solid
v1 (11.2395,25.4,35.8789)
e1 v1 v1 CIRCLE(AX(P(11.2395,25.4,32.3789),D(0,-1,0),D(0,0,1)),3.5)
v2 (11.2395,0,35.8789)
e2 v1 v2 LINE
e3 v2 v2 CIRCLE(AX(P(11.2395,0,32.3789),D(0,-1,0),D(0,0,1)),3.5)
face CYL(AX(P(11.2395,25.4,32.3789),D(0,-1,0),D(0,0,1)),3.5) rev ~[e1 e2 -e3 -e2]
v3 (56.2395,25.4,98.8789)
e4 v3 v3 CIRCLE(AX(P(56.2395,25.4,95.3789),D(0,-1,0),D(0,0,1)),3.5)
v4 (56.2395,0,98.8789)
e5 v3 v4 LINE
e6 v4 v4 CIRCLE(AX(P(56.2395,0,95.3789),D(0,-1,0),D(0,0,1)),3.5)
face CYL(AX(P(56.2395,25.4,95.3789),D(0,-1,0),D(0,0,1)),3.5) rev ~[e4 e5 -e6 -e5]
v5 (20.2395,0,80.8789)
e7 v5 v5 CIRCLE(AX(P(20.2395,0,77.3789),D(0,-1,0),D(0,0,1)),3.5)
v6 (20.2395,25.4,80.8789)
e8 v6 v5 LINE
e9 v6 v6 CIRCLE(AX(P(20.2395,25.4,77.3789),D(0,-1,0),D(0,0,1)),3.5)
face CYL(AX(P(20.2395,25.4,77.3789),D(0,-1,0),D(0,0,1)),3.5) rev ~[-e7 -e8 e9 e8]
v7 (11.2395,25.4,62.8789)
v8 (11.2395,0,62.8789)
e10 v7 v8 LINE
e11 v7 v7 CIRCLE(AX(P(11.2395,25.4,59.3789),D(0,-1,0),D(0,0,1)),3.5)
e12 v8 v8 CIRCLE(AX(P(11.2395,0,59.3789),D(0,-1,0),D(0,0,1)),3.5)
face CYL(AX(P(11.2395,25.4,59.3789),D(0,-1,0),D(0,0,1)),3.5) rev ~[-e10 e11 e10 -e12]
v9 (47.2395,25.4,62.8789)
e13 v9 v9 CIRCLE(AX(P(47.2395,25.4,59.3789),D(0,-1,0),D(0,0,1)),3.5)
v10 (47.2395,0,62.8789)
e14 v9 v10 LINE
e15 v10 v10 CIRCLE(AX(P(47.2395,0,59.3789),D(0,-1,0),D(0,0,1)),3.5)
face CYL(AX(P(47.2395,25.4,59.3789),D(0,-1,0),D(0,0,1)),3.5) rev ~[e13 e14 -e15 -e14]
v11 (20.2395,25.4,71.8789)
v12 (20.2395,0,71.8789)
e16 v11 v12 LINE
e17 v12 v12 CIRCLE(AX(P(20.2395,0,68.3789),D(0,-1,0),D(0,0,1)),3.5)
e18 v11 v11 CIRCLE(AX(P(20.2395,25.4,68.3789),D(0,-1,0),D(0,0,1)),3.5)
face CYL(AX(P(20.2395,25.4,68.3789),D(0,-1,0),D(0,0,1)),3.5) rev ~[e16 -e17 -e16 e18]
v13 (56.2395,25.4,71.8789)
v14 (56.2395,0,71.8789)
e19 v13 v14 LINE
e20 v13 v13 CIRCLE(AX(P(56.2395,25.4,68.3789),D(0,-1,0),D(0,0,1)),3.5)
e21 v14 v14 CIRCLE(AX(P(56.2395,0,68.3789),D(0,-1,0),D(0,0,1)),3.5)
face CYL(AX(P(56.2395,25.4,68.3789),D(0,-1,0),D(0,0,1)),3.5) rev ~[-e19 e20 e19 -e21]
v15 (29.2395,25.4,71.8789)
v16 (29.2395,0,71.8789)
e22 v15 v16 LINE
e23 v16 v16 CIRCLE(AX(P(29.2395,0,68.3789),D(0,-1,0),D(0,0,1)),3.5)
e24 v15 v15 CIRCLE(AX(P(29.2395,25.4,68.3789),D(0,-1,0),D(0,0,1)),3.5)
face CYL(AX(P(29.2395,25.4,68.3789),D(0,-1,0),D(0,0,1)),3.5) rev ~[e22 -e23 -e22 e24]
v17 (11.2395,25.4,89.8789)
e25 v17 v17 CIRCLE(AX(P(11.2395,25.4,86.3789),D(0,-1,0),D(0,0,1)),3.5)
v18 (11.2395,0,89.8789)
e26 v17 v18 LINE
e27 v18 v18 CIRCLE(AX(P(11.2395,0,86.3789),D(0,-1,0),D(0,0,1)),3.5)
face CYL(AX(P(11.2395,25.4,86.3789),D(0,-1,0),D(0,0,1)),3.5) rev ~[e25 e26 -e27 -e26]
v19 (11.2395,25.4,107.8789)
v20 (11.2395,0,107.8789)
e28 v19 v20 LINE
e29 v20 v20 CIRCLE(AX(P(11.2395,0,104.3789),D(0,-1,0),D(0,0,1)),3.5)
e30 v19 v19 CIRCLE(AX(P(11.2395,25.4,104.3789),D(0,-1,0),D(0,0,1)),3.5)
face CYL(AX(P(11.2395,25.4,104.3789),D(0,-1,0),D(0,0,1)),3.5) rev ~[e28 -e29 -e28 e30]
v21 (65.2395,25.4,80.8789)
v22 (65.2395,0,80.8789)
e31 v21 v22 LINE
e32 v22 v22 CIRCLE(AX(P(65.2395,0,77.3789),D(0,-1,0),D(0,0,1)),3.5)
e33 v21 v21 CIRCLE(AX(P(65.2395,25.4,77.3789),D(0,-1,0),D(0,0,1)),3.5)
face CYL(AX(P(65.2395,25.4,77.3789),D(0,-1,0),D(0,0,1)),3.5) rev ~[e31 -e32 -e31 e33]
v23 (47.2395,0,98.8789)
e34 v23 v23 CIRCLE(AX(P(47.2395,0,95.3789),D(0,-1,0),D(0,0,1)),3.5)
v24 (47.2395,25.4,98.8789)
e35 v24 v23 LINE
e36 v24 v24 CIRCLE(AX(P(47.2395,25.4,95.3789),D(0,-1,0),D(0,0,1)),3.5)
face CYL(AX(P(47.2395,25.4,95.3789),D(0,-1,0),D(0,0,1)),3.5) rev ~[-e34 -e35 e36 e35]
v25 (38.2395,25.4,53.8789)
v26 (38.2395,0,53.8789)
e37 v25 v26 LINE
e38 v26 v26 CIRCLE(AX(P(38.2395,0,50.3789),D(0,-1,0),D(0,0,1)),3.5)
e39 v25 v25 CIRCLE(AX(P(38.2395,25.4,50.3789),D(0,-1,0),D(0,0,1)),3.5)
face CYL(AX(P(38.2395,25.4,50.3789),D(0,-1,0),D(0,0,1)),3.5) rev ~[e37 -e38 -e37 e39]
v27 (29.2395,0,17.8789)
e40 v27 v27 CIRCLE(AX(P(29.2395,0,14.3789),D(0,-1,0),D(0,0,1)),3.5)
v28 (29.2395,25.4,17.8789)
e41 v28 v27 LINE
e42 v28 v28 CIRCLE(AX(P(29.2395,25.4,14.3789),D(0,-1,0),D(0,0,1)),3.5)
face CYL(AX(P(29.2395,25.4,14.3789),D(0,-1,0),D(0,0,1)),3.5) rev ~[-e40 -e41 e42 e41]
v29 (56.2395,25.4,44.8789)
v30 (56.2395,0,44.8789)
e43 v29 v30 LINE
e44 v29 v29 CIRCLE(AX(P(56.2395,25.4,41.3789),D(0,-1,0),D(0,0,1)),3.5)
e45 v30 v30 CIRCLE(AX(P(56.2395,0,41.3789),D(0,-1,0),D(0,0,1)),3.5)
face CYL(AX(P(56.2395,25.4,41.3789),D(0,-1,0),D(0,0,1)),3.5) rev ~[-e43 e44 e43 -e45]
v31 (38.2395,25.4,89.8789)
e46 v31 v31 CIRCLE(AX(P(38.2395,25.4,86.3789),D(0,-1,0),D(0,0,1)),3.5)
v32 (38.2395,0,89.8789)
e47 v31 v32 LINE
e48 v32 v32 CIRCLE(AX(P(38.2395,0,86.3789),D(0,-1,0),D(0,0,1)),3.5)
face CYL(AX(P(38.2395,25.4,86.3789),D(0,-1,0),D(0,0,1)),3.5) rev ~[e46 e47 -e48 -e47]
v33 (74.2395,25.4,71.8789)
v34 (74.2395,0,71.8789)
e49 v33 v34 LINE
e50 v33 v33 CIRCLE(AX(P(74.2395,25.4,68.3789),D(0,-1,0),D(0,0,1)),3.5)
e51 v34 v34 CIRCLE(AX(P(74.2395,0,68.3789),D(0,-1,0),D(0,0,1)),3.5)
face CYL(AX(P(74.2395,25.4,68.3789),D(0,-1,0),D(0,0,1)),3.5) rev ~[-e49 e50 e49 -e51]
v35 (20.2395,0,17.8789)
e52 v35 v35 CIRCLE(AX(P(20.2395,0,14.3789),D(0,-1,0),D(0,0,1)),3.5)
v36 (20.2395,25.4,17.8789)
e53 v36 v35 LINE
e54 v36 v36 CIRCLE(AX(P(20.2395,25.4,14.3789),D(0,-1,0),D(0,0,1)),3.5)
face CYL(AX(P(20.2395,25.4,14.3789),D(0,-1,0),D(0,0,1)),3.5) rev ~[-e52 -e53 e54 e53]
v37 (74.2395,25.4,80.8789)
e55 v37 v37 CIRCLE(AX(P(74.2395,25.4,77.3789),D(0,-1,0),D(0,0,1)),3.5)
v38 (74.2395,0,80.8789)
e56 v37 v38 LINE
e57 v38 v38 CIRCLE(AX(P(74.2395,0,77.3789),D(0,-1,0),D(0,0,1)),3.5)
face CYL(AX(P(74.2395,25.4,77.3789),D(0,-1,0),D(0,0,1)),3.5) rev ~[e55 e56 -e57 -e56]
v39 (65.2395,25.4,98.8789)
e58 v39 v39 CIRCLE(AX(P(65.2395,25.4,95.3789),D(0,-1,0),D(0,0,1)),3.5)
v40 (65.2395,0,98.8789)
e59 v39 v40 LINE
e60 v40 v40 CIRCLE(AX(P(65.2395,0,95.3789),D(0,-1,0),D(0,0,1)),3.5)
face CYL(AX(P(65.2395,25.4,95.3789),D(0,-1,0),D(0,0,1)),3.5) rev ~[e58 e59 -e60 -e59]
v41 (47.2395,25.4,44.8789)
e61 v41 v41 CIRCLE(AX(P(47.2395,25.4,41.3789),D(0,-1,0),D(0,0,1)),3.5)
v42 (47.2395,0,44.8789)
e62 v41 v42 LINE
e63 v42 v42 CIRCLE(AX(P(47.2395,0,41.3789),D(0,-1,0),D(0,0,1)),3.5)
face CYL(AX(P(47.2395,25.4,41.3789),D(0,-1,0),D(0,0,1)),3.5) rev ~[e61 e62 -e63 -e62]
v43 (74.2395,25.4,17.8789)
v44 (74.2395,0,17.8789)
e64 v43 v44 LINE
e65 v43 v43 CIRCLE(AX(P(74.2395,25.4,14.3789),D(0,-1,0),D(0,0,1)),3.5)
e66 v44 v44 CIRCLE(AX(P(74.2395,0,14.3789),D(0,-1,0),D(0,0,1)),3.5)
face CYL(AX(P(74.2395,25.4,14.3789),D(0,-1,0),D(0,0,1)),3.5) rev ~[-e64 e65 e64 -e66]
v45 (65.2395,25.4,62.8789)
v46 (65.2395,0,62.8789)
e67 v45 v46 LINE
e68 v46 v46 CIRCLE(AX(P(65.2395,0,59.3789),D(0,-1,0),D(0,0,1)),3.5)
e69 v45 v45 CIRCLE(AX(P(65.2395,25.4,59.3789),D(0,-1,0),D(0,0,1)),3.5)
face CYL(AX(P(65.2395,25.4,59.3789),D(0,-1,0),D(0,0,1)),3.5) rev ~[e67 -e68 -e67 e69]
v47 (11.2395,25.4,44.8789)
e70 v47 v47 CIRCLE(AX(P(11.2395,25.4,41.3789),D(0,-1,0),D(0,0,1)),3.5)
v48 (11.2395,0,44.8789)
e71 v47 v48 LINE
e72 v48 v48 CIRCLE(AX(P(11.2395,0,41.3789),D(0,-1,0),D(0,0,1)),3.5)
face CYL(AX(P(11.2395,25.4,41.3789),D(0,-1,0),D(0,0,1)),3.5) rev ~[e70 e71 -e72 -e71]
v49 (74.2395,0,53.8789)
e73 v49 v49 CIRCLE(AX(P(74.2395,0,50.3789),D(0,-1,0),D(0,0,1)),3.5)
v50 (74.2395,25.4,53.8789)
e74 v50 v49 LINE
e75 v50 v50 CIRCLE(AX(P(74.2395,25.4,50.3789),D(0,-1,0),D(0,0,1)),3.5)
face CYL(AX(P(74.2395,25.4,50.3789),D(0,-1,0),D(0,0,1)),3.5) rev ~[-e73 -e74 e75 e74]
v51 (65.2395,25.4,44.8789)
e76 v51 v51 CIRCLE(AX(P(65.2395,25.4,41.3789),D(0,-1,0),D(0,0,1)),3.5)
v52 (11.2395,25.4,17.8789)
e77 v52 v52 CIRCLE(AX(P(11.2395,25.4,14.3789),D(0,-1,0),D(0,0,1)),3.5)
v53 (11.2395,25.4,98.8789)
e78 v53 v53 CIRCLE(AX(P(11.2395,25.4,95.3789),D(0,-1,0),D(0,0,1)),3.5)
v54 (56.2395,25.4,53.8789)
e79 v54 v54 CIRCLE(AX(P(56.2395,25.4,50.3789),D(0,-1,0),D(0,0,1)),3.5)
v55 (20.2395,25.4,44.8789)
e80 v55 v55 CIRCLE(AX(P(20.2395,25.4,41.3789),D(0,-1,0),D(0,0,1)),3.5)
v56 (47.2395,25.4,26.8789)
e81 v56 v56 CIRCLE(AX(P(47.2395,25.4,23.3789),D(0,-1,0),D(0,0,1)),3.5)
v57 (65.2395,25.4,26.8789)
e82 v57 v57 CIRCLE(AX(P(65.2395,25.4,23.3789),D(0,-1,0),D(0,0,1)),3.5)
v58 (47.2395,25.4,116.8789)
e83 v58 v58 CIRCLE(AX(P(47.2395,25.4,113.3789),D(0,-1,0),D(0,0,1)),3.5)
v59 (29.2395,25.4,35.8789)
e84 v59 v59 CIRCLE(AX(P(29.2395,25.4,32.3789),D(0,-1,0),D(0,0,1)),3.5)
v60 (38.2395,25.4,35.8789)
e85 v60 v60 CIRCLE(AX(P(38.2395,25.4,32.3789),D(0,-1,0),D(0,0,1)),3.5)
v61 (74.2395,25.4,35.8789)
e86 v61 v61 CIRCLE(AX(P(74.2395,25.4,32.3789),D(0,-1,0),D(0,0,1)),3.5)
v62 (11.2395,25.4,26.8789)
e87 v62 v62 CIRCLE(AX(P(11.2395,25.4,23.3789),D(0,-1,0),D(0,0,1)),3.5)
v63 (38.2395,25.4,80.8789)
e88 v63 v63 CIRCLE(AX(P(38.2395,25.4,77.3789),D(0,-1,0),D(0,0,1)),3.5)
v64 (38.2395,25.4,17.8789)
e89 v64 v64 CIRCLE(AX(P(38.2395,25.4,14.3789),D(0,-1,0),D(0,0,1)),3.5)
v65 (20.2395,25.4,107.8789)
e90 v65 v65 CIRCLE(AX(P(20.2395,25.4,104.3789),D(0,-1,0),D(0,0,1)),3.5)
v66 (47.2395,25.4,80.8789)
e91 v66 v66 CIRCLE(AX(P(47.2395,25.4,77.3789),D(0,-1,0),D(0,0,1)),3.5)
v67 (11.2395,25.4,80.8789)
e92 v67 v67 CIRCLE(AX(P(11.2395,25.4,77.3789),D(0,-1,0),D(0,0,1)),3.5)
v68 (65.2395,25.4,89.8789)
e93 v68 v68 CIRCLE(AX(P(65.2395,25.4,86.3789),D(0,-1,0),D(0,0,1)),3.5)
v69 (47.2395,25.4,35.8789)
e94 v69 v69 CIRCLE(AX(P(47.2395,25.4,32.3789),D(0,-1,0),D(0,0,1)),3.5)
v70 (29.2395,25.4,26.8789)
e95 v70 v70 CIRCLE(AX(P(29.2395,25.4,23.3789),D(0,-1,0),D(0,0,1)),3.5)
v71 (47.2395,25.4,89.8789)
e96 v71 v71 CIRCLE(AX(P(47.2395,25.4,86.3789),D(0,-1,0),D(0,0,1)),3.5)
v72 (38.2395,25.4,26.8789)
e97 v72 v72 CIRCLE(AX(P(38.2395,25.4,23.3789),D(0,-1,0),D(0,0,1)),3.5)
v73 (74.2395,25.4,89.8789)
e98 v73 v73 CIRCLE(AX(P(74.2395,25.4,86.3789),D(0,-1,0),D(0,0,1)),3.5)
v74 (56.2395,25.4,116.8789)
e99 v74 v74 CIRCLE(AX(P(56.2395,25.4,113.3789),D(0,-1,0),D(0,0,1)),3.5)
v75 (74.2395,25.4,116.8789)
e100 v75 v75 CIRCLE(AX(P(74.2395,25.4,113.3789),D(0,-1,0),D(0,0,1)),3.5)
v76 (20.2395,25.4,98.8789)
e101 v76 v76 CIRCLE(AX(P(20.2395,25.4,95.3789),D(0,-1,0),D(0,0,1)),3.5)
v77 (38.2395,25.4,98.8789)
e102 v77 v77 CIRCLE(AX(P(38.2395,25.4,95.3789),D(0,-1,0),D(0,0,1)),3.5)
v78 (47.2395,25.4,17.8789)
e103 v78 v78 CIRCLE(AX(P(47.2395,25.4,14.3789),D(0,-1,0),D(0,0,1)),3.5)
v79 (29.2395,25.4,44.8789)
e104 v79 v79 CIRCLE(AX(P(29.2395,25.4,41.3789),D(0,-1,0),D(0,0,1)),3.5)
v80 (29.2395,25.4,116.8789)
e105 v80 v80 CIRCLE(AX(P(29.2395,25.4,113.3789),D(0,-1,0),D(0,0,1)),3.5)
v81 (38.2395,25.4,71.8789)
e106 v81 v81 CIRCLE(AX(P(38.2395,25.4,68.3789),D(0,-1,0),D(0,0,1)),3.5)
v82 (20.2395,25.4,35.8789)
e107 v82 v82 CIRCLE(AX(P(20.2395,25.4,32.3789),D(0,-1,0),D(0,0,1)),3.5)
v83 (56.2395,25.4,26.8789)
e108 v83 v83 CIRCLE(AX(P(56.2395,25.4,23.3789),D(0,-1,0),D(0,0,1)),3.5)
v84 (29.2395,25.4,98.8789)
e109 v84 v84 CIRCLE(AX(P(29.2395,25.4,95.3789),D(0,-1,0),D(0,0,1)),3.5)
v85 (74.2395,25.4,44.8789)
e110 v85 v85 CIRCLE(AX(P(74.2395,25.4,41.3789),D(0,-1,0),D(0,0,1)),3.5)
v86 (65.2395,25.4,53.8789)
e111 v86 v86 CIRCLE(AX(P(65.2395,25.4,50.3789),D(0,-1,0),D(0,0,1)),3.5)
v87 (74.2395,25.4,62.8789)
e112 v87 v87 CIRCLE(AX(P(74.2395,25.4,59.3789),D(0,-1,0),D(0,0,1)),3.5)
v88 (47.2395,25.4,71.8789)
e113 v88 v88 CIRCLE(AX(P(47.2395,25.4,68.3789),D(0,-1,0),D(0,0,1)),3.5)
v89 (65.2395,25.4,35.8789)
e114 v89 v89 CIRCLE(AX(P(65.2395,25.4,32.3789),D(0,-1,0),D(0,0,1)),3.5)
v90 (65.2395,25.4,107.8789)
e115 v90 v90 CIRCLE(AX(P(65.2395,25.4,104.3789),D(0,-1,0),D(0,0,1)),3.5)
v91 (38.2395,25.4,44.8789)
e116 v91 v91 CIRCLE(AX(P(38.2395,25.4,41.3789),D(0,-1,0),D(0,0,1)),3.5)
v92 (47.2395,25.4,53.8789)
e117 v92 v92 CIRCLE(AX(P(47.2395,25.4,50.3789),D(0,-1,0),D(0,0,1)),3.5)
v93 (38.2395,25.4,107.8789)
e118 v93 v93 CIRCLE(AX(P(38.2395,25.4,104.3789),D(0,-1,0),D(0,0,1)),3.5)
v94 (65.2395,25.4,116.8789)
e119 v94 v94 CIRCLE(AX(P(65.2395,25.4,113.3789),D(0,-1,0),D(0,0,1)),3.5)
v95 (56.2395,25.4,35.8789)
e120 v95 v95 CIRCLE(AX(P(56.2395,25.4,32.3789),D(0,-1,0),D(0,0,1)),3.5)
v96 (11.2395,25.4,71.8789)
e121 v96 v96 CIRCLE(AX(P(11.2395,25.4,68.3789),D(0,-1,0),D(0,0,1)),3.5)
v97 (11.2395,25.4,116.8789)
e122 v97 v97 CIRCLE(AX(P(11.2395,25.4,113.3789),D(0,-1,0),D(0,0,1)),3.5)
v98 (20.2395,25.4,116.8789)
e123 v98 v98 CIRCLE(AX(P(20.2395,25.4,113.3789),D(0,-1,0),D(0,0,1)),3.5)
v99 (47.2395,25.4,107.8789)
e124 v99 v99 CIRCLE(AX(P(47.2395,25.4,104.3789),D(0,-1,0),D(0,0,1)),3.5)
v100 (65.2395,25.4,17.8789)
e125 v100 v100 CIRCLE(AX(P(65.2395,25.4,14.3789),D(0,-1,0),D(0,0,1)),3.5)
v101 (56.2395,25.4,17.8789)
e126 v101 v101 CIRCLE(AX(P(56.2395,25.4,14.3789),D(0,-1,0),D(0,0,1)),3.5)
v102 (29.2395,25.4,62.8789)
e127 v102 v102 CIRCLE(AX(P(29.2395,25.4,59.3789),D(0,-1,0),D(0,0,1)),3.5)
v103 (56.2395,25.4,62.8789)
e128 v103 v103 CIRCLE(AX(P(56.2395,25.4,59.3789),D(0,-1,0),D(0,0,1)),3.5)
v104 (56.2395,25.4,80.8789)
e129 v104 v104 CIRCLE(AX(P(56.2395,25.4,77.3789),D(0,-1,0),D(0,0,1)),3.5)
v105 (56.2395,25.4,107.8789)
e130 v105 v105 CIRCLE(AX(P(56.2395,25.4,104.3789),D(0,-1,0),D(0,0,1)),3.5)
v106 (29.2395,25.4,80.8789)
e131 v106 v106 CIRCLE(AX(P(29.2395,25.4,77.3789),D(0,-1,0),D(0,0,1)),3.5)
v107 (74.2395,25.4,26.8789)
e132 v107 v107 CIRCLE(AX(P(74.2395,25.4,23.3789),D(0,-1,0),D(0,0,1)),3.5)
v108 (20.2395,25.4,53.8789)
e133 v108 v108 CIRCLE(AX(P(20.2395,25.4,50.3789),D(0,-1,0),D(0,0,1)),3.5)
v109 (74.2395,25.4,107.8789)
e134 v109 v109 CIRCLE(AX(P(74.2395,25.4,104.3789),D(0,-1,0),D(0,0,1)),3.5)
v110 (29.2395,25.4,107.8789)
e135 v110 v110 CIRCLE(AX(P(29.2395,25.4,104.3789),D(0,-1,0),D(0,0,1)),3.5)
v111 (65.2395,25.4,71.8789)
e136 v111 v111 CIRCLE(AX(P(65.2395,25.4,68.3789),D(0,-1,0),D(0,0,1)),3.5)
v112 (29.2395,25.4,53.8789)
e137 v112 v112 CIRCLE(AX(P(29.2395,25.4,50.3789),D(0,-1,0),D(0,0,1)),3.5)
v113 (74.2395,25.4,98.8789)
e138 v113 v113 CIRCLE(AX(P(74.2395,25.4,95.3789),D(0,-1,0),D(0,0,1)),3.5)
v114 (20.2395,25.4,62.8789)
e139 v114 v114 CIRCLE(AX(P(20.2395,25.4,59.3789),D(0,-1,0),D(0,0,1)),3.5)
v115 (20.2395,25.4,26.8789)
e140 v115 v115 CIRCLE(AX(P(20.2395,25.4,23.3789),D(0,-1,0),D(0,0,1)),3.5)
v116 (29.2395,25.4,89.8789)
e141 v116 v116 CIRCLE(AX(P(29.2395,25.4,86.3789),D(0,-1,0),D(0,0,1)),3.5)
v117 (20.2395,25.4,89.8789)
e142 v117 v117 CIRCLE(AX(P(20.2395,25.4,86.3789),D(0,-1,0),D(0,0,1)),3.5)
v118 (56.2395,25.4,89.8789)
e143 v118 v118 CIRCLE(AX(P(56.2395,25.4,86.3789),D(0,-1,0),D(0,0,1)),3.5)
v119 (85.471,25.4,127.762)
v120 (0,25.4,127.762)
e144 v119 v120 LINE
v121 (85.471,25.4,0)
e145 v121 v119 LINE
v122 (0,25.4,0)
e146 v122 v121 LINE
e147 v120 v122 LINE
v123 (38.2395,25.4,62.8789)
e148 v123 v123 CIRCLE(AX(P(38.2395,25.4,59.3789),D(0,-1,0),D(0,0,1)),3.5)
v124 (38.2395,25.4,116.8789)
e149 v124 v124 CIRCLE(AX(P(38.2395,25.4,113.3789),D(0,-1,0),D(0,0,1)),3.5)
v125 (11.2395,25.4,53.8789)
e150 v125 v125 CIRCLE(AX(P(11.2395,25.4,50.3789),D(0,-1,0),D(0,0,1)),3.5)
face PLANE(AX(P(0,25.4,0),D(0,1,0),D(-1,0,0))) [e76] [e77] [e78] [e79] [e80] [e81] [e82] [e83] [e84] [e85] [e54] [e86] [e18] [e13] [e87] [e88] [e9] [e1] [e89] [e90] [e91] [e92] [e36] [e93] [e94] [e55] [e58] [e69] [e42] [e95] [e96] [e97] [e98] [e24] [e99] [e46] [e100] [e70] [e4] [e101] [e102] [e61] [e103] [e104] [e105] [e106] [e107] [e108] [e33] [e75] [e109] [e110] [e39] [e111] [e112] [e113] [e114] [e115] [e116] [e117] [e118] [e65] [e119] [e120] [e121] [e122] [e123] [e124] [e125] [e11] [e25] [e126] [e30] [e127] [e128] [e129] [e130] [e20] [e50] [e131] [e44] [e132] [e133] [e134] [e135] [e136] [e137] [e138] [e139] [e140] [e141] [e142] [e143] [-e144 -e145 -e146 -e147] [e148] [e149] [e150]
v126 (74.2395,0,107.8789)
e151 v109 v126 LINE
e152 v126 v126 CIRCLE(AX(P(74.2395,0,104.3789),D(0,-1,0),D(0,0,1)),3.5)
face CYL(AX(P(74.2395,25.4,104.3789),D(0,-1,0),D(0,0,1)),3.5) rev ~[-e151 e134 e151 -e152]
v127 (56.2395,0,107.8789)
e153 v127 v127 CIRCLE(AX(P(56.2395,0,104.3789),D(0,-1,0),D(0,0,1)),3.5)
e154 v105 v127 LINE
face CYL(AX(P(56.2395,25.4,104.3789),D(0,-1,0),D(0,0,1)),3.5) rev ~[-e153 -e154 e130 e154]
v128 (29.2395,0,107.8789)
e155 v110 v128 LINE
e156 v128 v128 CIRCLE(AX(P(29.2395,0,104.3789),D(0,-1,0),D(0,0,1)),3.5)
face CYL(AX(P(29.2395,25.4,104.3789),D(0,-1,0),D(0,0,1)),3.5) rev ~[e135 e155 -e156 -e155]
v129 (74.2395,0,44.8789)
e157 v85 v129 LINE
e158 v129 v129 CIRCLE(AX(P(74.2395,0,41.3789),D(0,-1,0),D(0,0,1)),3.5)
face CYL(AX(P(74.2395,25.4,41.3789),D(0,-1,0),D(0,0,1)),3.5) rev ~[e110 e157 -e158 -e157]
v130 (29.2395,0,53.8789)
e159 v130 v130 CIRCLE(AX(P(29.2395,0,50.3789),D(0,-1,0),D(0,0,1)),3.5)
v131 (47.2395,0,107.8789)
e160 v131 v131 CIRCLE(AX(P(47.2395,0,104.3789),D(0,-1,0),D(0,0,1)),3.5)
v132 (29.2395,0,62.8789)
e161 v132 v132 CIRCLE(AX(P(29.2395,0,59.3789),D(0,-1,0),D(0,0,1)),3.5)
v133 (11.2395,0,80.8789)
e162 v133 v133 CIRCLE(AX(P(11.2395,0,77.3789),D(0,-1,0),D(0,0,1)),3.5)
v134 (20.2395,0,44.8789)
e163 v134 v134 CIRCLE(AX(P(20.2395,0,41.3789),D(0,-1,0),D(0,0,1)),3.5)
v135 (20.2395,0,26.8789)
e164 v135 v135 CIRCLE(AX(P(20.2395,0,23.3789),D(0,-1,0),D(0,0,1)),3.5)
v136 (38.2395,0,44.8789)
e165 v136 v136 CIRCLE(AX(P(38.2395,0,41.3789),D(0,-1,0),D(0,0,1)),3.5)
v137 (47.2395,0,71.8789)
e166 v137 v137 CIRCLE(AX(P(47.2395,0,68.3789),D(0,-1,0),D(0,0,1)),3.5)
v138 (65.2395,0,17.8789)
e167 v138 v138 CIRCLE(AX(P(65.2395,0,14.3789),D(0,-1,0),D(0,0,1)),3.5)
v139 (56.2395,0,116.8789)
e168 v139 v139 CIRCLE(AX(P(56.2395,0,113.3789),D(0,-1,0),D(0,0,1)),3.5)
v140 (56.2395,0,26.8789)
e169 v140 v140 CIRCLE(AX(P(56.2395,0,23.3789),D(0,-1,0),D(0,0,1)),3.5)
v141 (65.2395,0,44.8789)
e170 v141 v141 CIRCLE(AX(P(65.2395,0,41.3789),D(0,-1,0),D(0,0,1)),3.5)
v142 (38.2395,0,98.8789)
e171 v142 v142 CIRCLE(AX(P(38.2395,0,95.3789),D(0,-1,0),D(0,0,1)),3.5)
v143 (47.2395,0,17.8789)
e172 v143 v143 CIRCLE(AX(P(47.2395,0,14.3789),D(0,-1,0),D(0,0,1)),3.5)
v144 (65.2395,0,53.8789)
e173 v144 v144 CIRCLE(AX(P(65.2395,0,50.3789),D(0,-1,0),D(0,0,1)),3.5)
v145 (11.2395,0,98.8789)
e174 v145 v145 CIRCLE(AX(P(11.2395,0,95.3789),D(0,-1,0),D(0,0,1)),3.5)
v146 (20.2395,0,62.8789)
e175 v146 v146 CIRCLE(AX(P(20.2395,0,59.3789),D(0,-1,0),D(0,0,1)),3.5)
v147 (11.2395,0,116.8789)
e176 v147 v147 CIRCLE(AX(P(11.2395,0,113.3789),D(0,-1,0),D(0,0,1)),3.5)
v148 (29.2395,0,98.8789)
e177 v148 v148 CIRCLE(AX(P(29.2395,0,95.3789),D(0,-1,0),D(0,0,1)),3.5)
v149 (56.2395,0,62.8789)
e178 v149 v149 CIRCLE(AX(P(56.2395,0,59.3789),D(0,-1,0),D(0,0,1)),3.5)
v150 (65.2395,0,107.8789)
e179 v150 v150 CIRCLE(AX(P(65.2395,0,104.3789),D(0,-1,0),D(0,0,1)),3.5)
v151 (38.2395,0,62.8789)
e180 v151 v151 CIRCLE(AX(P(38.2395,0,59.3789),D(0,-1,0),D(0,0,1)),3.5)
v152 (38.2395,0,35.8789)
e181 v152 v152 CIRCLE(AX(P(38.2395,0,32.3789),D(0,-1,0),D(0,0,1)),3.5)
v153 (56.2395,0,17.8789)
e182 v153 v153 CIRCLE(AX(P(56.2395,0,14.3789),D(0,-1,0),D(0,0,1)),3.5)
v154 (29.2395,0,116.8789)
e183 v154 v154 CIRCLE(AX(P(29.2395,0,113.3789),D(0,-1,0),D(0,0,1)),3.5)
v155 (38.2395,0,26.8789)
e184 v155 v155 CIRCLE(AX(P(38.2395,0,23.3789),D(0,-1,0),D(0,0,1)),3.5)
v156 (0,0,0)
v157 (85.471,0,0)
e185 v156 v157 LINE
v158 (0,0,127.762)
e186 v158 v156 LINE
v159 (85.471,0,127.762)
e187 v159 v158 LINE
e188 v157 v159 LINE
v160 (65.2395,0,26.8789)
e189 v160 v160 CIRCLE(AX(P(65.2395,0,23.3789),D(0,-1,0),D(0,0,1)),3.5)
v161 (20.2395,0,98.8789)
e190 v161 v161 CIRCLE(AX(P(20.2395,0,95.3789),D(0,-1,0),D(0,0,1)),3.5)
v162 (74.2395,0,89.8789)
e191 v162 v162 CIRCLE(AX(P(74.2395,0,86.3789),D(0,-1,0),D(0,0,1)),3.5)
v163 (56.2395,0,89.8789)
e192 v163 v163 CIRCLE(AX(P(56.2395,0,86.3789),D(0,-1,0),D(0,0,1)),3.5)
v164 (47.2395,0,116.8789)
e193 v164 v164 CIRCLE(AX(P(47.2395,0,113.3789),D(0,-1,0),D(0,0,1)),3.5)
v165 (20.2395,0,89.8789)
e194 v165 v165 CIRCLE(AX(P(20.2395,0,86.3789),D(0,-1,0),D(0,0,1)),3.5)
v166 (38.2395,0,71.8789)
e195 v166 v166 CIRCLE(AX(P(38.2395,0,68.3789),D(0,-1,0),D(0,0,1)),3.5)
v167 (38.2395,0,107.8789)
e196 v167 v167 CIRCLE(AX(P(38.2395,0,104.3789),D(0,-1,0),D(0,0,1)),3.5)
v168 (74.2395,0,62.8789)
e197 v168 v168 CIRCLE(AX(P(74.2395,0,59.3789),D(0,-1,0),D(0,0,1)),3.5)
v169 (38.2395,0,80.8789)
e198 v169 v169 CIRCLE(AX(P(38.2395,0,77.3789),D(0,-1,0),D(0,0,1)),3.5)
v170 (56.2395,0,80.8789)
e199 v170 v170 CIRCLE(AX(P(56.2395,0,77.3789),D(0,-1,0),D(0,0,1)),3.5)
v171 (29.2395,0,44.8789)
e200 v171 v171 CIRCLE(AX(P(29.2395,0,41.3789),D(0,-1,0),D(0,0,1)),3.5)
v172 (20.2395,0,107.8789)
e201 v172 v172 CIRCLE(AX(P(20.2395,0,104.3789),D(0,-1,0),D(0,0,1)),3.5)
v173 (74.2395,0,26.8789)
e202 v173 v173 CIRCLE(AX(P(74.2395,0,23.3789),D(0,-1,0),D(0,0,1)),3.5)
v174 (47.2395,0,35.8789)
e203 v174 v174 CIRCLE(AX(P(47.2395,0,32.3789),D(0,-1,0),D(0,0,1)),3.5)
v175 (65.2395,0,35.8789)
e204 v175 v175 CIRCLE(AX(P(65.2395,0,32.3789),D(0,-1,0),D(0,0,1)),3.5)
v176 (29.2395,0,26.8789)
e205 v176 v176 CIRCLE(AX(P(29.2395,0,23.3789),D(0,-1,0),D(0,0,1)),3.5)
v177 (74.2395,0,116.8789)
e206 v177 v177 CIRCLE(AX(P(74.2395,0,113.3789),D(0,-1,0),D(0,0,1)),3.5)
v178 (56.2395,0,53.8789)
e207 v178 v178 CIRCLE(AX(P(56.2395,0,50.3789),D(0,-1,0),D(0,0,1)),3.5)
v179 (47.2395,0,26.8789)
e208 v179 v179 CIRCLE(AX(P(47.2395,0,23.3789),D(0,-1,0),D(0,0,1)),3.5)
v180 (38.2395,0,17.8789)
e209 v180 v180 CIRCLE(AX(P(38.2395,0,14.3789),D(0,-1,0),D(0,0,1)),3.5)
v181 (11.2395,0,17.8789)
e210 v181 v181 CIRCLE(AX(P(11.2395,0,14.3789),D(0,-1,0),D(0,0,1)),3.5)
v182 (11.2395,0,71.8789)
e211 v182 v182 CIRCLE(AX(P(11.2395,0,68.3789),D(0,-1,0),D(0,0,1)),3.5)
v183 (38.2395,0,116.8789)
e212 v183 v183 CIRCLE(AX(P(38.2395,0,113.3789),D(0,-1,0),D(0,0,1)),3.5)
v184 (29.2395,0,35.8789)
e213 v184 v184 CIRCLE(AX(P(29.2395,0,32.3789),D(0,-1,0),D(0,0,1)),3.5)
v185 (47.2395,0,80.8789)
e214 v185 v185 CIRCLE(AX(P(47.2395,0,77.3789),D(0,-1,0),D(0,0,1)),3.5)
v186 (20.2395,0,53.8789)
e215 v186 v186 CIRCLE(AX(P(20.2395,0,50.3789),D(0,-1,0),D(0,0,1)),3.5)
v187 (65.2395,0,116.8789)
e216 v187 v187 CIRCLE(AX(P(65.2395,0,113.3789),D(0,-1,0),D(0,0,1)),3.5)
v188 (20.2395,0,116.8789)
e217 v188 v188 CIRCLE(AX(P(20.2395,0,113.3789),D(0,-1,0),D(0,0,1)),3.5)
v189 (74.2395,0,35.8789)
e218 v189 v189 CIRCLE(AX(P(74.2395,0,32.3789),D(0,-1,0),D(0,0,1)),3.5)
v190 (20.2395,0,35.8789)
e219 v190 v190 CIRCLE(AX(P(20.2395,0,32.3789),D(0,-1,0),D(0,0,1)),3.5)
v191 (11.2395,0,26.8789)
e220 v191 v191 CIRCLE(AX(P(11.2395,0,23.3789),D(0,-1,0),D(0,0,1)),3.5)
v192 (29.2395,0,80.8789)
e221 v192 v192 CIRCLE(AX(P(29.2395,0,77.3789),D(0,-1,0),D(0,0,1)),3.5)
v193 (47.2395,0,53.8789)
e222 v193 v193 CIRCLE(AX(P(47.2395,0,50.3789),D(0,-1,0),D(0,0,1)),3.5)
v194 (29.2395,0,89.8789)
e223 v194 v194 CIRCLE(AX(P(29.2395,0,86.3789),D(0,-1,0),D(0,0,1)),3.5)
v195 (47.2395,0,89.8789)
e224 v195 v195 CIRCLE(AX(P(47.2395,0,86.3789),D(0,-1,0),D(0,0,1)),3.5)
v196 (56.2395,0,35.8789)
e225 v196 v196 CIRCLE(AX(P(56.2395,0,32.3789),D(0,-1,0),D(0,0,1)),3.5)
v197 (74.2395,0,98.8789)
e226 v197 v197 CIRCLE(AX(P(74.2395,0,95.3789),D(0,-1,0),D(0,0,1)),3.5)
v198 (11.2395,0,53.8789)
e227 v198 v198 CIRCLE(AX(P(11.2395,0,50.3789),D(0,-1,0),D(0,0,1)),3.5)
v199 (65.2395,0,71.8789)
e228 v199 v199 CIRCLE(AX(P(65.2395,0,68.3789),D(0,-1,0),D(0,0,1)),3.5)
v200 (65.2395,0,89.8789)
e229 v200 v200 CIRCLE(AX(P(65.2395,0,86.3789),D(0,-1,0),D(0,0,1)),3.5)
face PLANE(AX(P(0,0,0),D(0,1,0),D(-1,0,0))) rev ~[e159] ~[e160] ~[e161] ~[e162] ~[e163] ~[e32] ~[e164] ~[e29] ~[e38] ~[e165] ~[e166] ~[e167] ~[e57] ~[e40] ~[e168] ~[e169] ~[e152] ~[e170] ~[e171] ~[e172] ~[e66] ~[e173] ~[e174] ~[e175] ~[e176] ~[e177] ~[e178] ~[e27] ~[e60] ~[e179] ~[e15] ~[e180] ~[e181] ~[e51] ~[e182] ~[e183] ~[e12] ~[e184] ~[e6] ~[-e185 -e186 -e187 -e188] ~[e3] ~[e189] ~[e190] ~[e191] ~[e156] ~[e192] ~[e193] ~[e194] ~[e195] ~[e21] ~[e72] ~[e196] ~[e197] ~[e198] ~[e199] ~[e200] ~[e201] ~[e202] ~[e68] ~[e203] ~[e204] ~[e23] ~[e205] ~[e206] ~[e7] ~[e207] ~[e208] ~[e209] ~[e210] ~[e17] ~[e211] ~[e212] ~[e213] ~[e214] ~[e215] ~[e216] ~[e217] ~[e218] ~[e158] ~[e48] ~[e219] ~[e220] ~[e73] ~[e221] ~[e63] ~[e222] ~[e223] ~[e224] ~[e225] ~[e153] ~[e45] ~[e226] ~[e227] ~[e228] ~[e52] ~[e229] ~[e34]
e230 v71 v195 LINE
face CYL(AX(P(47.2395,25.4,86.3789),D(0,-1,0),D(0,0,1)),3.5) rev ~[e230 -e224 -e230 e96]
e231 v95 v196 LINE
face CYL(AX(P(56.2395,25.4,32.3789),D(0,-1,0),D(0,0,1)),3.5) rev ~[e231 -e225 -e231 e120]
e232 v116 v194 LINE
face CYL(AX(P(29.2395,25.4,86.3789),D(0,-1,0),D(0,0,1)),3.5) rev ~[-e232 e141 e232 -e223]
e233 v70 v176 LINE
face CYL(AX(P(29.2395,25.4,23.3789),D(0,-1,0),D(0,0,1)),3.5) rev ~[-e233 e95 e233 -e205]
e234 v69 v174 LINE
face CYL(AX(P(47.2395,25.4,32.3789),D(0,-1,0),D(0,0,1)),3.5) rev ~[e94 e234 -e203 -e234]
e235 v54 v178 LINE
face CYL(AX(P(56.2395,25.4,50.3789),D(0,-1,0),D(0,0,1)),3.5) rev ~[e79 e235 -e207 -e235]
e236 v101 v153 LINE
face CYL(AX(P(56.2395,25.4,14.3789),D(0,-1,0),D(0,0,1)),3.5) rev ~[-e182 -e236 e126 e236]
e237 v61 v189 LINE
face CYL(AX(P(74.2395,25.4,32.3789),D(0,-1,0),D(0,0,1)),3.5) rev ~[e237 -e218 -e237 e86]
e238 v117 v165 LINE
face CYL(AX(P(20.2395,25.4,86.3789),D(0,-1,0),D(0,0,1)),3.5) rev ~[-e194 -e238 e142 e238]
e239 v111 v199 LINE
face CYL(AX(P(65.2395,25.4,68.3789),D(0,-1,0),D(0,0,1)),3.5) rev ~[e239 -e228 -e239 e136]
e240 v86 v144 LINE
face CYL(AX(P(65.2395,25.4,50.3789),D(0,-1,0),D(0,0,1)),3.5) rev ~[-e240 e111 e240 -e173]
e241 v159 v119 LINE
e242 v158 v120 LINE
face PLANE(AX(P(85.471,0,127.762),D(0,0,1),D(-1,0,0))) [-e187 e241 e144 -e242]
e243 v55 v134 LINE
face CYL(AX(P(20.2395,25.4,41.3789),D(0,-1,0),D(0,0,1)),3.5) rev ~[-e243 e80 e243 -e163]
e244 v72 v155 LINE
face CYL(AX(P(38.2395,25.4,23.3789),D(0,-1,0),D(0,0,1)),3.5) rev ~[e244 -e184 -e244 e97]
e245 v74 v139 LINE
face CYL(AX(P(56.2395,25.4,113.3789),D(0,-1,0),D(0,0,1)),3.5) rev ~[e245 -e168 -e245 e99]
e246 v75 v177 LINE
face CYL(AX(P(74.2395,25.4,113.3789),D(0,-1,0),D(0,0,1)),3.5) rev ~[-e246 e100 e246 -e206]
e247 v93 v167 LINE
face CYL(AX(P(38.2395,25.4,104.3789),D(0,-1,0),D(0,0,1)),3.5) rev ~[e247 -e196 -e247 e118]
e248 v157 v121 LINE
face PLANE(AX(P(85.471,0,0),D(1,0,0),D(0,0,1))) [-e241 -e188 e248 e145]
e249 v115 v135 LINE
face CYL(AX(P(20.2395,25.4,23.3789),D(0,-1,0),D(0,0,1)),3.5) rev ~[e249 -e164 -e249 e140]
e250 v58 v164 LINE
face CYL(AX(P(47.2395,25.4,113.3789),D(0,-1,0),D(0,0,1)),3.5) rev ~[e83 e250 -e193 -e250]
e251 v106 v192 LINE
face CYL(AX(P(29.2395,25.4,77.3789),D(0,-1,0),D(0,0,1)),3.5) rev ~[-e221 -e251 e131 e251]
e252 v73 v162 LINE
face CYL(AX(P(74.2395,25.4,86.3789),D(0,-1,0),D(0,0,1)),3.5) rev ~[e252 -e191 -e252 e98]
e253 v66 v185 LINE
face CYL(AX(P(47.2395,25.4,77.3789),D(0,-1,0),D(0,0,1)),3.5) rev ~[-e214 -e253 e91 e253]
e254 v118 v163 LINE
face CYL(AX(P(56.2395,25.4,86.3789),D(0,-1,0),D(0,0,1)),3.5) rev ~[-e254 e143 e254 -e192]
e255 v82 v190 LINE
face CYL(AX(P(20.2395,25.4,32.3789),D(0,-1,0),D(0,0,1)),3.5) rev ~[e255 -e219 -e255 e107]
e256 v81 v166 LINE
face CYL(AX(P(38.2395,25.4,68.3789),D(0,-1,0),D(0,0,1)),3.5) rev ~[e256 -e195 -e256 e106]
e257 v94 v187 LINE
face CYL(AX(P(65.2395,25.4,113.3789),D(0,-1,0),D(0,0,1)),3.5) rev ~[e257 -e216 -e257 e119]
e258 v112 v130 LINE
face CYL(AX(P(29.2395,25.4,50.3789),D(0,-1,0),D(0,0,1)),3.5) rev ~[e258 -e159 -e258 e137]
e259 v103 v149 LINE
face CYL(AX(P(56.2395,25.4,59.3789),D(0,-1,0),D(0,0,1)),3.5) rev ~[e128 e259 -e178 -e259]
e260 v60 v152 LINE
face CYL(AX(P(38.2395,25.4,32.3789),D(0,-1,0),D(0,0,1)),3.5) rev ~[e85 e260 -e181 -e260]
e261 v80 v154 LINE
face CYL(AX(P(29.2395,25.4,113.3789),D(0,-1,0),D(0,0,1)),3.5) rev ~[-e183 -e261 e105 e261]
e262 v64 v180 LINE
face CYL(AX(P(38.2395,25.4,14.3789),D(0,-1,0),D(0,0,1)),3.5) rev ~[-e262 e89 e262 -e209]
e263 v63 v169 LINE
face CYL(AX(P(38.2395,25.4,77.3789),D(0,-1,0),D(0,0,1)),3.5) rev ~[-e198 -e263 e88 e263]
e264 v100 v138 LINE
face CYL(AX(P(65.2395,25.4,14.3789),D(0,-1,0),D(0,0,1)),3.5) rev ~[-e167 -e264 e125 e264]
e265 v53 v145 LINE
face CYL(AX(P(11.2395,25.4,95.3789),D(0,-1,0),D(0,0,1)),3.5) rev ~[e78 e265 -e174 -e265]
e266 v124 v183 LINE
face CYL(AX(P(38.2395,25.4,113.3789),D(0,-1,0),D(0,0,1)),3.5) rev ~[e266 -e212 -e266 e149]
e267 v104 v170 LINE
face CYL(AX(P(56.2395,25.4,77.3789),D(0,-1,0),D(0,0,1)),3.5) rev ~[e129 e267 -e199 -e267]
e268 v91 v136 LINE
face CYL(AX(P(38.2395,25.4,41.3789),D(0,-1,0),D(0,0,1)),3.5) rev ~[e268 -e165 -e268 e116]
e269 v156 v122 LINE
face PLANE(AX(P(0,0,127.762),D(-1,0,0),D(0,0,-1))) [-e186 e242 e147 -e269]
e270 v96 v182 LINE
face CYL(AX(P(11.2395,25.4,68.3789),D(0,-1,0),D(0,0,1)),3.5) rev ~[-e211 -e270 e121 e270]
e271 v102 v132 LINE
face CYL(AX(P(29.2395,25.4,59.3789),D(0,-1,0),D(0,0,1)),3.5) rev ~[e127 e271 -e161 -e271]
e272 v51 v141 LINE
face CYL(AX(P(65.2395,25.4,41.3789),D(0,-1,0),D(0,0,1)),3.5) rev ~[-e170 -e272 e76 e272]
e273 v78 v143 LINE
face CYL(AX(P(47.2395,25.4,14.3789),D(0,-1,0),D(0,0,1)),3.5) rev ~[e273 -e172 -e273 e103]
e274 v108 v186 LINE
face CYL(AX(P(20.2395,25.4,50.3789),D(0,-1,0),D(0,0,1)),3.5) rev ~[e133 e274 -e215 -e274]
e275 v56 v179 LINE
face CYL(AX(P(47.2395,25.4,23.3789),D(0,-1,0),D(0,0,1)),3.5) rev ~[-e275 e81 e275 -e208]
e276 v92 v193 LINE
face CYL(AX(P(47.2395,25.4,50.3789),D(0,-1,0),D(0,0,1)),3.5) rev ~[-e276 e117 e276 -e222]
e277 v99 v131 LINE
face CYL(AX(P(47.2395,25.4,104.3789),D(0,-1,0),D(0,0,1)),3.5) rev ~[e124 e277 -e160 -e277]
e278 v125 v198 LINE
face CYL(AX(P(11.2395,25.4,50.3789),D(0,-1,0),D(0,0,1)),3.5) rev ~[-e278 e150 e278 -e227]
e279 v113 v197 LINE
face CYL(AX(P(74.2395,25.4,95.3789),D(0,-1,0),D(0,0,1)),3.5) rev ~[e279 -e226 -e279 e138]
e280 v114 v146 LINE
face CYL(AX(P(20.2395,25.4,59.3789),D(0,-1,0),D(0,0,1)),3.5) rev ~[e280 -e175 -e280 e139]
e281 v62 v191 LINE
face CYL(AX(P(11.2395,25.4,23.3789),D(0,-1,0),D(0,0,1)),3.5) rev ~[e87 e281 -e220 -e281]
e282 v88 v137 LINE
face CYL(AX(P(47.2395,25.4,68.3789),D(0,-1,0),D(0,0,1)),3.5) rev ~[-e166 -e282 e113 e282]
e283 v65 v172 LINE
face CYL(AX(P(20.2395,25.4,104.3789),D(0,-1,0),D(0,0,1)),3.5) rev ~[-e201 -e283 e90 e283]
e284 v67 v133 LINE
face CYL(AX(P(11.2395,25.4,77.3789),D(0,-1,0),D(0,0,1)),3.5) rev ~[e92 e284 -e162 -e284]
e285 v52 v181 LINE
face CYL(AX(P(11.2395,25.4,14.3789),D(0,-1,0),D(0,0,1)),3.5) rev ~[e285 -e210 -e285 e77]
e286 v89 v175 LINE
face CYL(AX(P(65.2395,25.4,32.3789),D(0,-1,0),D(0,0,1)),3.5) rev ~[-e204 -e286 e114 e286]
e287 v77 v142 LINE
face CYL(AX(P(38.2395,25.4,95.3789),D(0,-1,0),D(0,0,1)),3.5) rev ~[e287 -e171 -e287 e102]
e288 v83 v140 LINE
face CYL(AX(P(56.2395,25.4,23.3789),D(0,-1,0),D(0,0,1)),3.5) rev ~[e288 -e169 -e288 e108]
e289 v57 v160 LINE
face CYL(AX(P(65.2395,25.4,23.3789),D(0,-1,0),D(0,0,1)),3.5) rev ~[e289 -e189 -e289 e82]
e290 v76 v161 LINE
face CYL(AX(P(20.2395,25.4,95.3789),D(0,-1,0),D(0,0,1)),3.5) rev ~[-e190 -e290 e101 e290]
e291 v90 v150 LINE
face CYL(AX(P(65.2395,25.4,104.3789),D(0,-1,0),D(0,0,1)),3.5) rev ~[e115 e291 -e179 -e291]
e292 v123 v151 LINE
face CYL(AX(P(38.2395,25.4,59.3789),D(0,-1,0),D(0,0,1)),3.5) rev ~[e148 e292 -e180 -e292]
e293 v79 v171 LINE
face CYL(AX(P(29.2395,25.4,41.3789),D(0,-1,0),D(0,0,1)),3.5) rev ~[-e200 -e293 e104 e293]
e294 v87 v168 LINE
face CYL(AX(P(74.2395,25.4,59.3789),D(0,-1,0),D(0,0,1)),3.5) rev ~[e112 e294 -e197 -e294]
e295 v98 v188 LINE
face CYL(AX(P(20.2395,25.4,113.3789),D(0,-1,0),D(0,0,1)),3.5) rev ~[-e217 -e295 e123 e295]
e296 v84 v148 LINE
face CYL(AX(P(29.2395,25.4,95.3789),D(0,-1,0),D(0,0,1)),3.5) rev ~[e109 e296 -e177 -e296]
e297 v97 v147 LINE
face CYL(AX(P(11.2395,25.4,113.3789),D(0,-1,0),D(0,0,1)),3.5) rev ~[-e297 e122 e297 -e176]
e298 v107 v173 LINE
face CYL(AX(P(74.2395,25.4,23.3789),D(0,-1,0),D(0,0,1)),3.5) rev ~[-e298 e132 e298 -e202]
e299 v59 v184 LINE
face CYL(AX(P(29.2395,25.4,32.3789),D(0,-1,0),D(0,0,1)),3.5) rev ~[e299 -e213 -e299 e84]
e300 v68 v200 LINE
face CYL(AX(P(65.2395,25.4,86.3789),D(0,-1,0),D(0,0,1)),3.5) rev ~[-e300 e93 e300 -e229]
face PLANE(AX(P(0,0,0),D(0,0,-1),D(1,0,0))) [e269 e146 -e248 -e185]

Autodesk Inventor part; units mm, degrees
ref_plane "YZ Plane" through (0, 0, 0) normal (1, 0, 0) x (0, 1, 0)
ref_plane "XZ Plane" through (0, 0, 0) normal (0, 1, 0) x (-1, 0, 0)
ref_plane "XY Plane" through (0, 0, 0) normal (0, 0, 1) x (1, 0, 0)
sketch "Sketch1" plane through (0, 0, 0) normal (0, 1, 0) x (-1, 0, 0)
  line L0 (0, 0) -> (-85.471, 0)
  line L1 (-85.471, 0) -> (-85.471, 127.762)
  line L2 (-85.471, 127.762) -> (0, 127.762)
  line L3 (0, 127.762) -> (0, 0)
  dimension "d0" = 85.471
  dimension "d1" = 127.762
extrude "Extrusion1" add sketch "Sketch1" along normal blind 25.4
sketch "Sketch2" plane through (0, 25.4, 0) normal (0, 1, 0) x (1, 0, 0)
  line L0 (85.471, 0) -> (0, 0) projected
  line L1 (0, 0) -> (11.2395, 0)
  line L2 (11.2395, 0) -> (11.2395, -14.3789)
  line L3 (11.2395, -14.3789) -> (0, -14.3789)
  line L4 (0, -14.3789) -> (0, 0)
  circle A0 centre (11.2395, -14.3789) radius 3.5
  dimension "d4" = 11.2395
  dimension "d5" = 14.3789
  dimension "d6" = 7
hole "Hole1" at (11.2395, 25.4, 14.3789) direction (0, -1, 0) diameter 7 end through all
pattern_linear "Rectangular Pattern1" count 8 spacing 9 along (1, 0, 0) count 12 spacing 9 along (0, 0, 1) of "Hole1"
properties part number "PTFE casting tray"
